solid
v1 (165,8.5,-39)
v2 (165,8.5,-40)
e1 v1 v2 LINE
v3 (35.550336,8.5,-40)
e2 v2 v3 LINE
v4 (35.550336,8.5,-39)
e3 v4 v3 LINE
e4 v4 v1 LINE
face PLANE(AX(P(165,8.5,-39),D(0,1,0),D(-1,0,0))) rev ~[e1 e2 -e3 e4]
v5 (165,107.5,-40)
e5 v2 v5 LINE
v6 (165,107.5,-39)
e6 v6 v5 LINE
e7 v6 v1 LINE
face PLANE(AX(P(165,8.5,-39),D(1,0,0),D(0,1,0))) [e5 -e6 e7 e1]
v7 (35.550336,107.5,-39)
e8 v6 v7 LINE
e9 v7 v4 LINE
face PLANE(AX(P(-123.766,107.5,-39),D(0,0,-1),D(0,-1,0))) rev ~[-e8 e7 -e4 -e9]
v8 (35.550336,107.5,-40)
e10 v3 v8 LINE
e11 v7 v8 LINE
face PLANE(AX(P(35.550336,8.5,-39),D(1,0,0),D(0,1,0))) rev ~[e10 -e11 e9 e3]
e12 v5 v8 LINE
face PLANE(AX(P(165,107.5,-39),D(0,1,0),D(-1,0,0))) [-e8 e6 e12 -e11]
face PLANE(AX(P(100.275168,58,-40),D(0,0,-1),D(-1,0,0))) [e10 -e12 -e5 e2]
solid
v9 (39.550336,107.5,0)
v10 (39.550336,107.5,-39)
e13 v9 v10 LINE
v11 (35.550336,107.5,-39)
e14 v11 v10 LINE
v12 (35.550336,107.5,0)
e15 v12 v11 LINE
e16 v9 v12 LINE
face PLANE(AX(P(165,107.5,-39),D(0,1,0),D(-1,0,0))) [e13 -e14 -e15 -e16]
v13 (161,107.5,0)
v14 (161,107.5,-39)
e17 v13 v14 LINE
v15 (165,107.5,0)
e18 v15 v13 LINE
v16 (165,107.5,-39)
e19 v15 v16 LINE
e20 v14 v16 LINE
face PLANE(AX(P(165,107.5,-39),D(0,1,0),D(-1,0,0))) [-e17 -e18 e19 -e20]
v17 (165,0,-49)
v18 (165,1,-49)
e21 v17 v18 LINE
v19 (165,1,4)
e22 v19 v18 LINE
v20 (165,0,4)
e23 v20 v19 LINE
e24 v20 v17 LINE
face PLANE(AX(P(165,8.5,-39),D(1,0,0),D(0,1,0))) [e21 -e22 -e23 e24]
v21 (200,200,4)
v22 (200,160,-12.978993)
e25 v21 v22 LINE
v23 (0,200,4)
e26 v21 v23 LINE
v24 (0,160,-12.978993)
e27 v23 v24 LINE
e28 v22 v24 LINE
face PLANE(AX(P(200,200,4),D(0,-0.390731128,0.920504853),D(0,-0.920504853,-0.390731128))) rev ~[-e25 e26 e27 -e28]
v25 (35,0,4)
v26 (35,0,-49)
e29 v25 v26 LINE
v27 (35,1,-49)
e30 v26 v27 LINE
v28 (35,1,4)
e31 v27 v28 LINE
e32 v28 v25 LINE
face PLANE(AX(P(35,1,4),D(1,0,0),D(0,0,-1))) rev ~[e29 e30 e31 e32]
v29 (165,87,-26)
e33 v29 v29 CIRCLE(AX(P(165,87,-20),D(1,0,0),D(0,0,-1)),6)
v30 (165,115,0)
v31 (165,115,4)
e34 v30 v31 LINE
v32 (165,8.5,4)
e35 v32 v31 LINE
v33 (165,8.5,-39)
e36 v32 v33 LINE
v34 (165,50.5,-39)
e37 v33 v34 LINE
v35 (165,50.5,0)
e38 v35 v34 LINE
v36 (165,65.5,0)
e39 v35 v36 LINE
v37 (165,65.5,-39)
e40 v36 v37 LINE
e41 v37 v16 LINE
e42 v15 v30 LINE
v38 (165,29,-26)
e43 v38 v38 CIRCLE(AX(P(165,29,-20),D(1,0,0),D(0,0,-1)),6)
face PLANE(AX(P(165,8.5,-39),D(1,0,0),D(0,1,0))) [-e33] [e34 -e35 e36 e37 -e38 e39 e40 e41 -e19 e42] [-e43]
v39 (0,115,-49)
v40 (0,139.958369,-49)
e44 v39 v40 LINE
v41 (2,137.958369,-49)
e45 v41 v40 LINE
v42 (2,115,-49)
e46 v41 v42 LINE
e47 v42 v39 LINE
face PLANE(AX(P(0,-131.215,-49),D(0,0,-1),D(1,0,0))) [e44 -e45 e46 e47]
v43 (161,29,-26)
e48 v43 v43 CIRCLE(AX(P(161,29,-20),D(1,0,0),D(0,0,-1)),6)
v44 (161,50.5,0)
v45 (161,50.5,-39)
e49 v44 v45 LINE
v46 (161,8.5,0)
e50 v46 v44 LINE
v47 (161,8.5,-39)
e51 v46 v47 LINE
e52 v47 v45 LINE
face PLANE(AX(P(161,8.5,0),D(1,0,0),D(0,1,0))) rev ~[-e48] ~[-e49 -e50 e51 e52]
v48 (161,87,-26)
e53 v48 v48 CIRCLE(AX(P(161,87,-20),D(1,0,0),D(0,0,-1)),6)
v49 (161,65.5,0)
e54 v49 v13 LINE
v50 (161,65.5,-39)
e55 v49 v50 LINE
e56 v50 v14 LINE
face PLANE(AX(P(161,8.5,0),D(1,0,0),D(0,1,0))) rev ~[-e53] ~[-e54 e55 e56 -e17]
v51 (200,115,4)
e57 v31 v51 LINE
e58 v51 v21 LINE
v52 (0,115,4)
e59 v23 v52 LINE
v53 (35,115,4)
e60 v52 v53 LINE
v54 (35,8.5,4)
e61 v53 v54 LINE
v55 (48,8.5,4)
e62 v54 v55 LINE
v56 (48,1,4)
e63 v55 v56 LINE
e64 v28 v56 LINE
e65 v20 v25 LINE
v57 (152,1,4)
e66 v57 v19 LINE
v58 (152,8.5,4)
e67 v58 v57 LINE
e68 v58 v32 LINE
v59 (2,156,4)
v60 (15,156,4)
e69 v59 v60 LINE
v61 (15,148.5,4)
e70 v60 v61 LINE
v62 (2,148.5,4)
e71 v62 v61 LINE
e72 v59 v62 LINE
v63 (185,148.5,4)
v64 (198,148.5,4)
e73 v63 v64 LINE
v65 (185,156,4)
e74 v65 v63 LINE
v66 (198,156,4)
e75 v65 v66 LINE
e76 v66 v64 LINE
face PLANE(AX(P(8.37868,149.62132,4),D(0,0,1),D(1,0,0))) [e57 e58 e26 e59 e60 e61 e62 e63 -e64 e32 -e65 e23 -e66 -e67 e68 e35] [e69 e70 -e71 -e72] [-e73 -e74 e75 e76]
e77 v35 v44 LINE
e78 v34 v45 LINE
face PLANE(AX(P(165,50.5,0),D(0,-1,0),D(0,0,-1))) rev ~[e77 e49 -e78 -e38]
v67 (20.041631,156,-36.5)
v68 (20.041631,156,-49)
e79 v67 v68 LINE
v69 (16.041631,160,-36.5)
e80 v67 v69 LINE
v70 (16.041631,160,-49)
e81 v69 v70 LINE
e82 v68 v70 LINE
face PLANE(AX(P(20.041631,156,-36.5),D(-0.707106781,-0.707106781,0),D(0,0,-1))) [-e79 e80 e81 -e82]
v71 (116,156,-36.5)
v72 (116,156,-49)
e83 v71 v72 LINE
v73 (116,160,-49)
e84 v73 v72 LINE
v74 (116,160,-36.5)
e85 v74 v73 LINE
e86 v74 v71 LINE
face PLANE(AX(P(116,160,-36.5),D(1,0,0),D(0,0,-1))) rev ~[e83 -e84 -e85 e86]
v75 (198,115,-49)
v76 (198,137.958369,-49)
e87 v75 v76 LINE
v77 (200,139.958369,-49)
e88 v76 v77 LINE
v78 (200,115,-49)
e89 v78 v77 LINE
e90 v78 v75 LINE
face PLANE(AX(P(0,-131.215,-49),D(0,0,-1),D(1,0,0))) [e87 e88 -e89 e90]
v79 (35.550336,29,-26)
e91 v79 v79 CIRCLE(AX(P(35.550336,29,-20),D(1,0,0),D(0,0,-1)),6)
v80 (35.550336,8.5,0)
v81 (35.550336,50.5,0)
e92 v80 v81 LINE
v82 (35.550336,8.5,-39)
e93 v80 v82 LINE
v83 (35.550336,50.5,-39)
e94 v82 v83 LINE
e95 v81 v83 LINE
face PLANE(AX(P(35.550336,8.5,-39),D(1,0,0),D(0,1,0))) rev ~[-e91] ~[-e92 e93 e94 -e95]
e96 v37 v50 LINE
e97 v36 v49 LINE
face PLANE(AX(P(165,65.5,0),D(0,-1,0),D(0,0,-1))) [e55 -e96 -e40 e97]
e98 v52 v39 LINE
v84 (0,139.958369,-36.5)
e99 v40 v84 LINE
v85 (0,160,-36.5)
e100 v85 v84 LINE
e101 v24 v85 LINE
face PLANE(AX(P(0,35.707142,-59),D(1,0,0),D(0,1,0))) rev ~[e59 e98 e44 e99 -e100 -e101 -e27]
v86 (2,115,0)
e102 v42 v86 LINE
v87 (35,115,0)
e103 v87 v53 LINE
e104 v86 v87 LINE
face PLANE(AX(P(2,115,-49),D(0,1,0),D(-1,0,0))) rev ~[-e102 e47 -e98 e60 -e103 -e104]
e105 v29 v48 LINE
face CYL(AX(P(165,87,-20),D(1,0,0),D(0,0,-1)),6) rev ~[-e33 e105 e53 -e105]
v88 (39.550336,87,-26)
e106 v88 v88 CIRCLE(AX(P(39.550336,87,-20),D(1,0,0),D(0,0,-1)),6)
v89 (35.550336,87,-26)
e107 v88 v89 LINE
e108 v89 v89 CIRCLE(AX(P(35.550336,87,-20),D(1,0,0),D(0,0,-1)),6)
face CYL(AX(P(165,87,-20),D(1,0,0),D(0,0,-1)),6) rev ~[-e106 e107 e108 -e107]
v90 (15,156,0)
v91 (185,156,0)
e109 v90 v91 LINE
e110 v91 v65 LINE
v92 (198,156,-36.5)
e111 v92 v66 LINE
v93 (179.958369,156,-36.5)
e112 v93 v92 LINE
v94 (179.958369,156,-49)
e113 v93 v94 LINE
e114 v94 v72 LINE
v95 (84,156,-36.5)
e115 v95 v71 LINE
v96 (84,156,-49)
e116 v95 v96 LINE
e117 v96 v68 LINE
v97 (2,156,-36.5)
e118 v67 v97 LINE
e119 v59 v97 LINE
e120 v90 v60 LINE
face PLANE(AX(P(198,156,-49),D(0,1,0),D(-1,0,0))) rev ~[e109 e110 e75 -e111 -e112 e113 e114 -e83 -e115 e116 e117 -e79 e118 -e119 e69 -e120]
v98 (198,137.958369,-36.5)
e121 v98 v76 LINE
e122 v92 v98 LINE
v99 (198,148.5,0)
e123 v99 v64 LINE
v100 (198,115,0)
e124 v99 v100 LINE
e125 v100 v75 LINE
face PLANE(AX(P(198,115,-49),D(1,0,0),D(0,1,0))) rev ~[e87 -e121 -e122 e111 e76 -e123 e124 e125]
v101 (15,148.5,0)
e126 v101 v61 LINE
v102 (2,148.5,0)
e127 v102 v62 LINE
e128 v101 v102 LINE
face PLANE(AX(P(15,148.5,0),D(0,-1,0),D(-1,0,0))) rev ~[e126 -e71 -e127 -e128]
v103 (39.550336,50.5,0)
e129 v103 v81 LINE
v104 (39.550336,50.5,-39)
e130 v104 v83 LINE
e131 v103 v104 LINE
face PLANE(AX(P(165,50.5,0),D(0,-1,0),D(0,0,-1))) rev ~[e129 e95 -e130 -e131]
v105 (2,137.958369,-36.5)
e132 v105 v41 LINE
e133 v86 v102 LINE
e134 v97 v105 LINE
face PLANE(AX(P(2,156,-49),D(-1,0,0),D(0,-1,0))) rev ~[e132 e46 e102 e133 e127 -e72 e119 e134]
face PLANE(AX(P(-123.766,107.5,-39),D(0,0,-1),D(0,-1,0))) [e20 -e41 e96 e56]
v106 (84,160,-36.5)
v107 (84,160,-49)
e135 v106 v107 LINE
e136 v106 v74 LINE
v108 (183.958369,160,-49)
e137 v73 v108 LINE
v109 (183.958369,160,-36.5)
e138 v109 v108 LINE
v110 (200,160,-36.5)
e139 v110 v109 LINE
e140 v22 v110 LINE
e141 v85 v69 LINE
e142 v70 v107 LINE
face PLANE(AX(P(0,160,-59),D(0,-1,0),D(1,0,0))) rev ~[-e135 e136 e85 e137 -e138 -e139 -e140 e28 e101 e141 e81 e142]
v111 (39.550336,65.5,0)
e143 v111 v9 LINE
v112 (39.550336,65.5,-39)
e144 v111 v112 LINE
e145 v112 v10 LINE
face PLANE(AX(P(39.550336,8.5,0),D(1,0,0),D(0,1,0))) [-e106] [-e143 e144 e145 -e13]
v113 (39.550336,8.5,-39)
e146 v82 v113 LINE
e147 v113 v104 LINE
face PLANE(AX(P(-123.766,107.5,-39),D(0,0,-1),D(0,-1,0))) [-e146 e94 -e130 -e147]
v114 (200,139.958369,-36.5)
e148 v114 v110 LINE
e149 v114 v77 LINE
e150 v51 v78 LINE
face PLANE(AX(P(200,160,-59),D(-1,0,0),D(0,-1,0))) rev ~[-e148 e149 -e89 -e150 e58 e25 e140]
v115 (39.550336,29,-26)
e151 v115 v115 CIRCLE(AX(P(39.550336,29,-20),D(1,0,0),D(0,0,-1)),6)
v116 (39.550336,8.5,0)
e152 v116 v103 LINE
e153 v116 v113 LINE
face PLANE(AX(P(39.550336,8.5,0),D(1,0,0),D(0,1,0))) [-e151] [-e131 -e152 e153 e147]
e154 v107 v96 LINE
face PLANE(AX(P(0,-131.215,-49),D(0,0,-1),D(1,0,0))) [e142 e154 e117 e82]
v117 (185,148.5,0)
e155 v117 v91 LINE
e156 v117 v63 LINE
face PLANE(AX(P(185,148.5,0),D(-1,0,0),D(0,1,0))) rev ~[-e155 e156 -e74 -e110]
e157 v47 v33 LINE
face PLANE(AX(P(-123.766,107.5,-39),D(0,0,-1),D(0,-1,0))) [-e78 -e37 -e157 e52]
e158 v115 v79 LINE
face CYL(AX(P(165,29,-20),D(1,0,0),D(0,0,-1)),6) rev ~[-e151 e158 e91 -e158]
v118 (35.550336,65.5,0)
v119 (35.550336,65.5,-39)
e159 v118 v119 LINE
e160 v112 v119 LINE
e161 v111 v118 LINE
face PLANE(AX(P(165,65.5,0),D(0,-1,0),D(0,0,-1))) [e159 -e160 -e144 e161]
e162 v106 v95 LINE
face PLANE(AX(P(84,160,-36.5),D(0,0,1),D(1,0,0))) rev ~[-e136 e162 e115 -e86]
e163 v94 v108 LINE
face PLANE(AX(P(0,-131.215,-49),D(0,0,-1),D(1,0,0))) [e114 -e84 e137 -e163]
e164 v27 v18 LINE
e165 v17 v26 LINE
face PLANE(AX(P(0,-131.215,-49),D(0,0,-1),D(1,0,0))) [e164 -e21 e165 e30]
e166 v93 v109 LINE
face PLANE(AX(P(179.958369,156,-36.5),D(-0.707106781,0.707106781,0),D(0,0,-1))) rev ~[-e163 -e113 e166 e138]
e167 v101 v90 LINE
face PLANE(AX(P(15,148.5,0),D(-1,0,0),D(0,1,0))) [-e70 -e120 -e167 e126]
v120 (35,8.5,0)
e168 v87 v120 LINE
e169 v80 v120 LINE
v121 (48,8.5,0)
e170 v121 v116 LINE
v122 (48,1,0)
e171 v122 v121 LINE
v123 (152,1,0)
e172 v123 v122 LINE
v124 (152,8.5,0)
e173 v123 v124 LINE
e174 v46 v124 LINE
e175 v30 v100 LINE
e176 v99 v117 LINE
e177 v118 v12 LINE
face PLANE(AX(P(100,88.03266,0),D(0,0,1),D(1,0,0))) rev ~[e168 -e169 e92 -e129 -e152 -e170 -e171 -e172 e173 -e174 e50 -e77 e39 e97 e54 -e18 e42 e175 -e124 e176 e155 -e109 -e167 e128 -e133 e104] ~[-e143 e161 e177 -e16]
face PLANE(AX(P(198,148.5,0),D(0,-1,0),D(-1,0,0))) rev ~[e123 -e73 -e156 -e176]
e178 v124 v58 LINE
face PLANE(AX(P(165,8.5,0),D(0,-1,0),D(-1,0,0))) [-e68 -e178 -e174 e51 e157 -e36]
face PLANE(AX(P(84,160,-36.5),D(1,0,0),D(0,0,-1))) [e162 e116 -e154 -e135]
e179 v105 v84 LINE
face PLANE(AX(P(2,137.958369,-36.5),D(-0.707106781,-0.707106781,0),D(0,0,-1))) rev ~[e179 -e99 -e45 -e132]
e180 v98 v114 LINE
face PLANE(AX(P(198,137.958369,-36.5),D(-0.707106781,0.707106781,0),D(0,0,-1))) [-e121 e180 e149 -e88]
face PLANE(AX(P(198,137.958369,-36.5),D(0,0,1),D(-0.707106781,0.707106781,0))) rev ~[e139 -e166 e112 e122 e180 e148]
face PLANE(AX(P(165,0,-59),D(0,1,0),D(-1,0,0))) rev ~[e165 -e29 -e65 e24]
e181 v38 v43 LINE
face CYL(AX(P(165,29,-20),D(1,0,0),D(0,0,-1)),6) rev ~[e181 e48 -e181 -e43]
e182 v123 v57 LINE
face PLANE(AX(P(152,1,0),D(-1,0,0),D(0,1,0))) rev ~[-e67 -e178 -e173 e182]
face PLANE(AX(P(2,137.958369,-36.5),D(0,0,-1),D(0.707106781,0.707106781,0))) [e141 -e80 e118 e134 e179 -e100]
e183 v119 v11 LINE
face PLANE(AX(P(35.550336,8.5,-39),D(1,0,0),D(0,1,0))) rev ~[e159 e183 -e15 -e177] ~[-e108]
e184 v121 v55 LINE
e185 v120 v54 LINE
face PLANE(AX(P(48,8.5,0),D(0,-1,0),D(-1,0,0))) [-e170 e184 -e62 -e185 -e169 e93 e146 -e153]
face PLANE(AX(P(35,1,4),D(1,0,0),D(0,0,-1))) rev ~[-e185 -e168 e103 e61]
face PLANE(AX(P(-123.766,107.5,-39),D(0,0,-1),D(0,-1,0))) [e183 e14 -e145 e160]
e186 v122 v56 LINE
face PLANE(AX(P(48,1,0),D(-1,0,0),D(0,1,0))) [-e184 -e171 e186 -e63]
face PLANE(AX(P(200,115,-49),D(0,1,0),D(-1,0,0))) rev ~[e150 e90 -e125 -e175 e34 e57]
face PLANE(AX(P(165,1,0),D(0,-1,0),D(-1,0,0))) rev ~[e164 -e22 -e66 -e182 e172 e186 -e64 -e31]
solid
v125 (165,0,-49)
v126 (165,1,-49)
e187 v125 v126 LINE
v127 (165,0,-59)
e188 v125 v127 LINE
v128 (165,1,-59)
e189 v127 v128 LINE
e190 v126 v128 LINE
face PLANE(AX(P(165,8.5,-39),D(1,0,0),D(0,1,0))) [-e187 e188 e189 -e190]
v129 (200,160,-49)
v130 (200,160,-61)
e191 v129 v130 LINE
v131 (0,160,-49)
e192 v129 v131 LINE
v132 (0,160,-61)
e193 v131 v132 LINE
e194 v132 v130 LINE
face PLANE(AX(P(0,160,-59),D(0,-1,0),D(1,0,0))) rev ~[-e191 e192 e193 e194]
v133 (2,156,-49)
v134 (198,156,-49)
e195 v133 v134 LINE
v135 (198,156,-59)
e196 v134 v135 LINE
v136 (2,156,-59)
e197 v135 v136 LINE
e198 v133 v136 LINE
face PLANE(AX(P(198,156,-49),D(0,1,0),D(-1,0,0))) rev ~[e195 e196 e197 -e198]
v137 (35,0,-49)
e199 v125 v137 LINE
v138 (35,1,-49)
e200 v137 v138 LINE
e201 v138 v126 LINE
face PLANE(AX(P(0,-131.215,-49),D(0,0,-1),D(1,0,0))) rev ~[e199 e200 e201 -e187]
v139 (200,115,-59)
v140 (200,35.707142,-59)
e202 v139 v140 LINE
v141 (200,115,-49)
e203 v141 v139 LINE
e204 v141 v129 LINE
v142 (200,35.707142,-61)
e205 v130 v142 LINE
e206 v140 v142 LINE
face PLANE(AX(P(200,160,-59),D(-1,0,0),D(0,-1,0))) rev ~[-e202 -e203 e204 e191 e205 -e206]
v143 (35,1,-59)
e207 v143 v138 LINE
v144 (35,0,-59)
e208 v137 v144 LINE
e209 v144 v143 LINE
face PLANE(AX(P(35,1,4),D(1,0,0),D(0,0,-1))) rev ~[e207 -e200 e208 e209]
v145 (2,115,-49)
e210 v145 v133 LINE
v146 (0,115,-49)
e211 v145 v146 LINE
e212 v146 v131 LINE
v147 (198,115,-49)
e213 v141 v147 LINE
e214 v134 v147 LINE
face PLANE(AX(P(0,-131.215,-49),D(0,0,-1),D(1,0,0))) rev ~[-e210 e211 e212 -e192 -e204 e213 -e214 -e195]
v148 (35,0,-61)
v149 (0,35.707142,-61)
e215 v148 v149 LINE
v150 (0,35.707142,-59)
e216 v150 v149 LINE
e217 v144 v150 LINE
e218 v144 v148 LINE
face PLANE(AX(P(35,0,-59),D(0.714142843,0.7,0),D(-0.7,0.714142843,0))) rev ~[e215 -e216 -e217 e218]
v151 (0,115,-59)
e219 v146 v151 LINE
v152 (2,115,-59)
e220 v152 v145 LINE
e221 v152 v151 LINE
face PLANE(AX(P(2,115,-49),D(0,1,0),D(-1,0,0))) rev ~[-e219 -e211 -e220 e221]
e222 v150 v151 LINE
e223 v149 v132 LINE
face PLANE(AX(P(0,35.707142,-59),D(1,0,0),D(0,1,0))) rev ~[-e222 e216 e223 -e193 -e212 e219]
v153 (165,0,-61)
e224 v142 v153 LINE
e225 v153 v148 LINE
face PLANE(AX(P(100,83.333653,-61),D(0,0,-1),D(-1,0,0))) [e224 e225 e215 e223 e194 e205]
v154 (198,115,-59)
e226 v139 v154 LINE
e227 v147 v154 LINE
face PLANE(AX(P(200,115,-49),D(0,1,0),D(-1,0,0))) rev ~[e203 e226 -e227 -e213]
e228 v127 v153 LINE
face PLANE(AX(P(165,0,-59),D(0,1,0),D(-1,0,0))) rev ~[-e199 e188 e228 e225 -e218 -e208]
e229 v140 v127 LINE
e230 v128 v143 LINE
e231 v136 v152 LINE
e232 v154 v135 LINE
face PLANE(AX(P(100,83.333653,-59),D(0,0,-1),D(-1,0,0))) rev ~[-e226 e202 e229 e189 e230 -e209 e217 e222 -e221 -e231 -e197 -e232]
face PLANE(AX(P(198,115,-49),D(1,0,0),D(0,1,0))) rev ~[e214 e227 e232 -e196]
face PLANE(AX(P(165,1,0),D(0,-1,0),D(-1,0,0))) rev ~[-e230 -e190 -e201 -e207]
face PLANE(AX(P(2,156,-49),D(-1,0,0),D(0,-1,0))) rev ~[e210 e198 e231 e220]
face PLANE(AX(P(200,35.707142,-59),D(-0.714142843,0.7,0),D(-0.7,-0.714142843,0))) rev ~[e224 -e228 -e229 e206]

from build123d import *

# Parameters (mm, degrees)
BOSS_EXTRUDE1_DEPTH    = 4
BOSS_EXTRUDE2_DEPTH    = 53
BOSS_EXTRUDE4_DEPTH    = 200
SKETCH5_W              = 25.514718625
SKETCH5_H              = 12.5
CUT_EXTRUDE1_DEPTH     = 20
SKETCH6_W              = 12.5
SKETCH6_H              = 25.514718626
CUT_EXTRUDE2_DEPTH     = 20
BOSS_EXTRUDE5_DEPTH    = 4
SKETCH9_W              = 4
SKETCH9_H              = 99
BOSS_EXTRUDE6_DEPTH    = 39
SKETCH10_W             = 39
SKETCH10_H             = 15
CUT_EXTRUDE5_DEPTH     = 137
SKETCH12_W             = 35
SKETCH12_H             = 53
CUT_EXTRUDE6_DEPTH     = 8
SKETCH13_R             = 6
CUT_EXTRUDE7_DEPTH     = 135
SKETCH15_W             = 129.449663631
SKETCH15_H             = 99
BOSS_EXTRUDE7_DEPTH    = 1
SPLIT1_SURFACE_1_BACK  = 288.766
SPLIT1_SURFACE_1_DEPTH = 577.532
SPLIT1_SURFACE_2_BACK  = 288.766
SPLIT1_SURFACE_2_DEPTH = 577.532
SKETCH17_W             = 13
SKETCH17_H             = 7.5
CUT_EXTRUDE8_DEPTH     = 10
SKETCH21_W             = 130
SKETCH21_H             = 1
BOSS_EXTRUDE10_DEPTH   = 10
SKETCH23_W             = 32
SKETCH23_H             = 12.5
CUT_EXTRUDE9_DEPTH     = 10
BOSS_EXTRUDE14_DEPTH   = 2
SPLIT2_SURFACE_3_BACK  = 291.215
SPLIT2_SURFACE_3_DEPTH = 582.43
SPLIT2_SURFACE_4_BACK  = 291.215
SPLIT2_SURFACE_4_DEPTH = 582.43


with BuildPart() as part:
    # Sketch1 → Boss-Extrude1 (new body)
    with BuildSketch(Plane.XY):
        Polygon((175.95836944, 160), (24.04163056, 160), (0, 135.95836944), (0, 115), (35, 115), (35, 60), (35, 55), (35, 0), (165, 0), (165, 55), (165, 60), (165, 115), (200, 115), (200, 135.95836944), align=None)
    extrude(amount=BOSS_EXTRUDE1_DEPTH)

    # Sketch3 → Boss-Extrude2 (add)
    with BuildSketch(Plane.XY.offset(4)):
        Polygon((0, 0), (200, 0), (200, 1), (199, 1), (1, 1), (0, 1), align=None)
        Polygon((0, 160), (200, 160), (200, 115), (198, 115), (198, 156), (2, 156), (2, 115), (0, 115), align=None)
    extrude(amount=-BOSS_EXTRUDE2_DEPTH)

    # Sketch4 → Boss-Extrude4 (add)
    with BuildSketch(Plane(origin=(200, 0, 0), x_dir=(0, 0, -1), z_dir=(1, 0, 0))):
        Polygon((-4, 160), (-4, 200), (12.978992648, 160), align=None)
    extrude(amount=-BOSS_EXTRUDE4_DEPTH)

    # Sketch5 → Cut-Extrude1 (cut)
    with BuildSketch(Plane(origin=(-67.97918472, 67.97918472, 0), x_dir=(0.7071067811865505, 0.7071067811865447, 0), z_dir=(-0.7071067811865447, 0.7071067811865505, 0))):
        with Locations((111.722871428, 42.75)):
            Rectangle(SKETCH5_W, SKETCH5_H)
    extrude(amount=CUT_EXTRUDE1_DEPTH, mode=Mode.SUBTRACT)

    # Sketch6 → Cut-Extrude2 (cut)
    with BuildSketch(Plane(origin=(167.97918472, 167.97918472, 0), x_dir=(0, 0, -1), z_dir=(0.7071067811865493, 0.7071067811865458, 0))):
        with Locations((42.75, -29.69848481)):
            Rectangle(SKETCH6_W, SKETCH6_H)
    extrude(amount=CUT_EXTRUDE2_DEPTH, mode=Mode.SUBTRACT)

    # Sketch8 → Boss-Extrude5 (add)
    with BuildSketch(Plane.XY.offset(4)):
        Polygon((20.04163056, 156), (2, 156), (2, 137.95836944), align=None)
        Polygon((179.95836944, 156), (198, 156), (198, 137.95836944), align=None)
    extrude(amount=-BOSS_EXTRUDE5_DEPTH)

    # Sketch9 → Boss-Extrude6 (add)
    with BuildSketch(Plane(origin=(0, 0, 0), x_dir=(-1, 0, 0), z_dir=(0, 0, -1))):
        with Locations((-37.550336369, 58)):
            Rectangle(SKETCH9_W, SKETCH9_H)
        with Locations((-163, 58)):
            Rectangle(SKETCH9_W, SKETCH9_H)
    extrude(amount=BOSS_EXTRUDE6_DEPTH)

    # Sketch10 → Cut-Extrude5 (cut)
    with BuildSketch(Plane(origin=(165, 0, 0), x_dir=(0, 0, -1), z_dir=(1, 0, 0))):
        with Locations((19.5, 58)):
            Rectangle(SKETCH10_W, SKETCH10_H)
    extrude(amount=-CUT_EXTRUDE5_DEPTH, mode=Mode.SUBTRACT)

    # Sketch12 → Cut-Extrude6 (cut)
    with BuildSketch(Plane(origin=(0, 1, 0), x_dir=(1, 0, 0), z_dir=(0, 1, 0))):
        with Locations((17.5, 22.5)):
            Rectangle(SKETCH12_W, SKETCH12_H)
        with Locations((182.5, 22.5)):
            Rectangle(SKETCH12_W, SKETCH12_H)
    extrude(amount=-CUT_EXTRUDE6_DEPTH, mode=Mode.SUBTRACT)

    # Sketch13 → Cut-Extrude7 (cut)
    with BuildSketch(Plane(origin=(165, 0, 0), x_dir=(0, 0, -1), z_dir=(1, 0, 0))):
        with Locations((20, 87)):
            Circle(SKETCH13_R)
        with Locations((20, 29)):
            Circle(SKETCH13_R)
    extrude(amount=-CUT_EXTRUDE7_DEPTH, mode=Mode.SUBTRACT)

    # Sketch15 → Boss-Extrude7 (add)
    with BuildSketch(Plane(origin=(0, 0, -39), x_dir=(-1, 0, 0), z_dir=(0, 0, -1))):
        with Locations((-100.275168185, 58)):
            Rectangle(SKETCH15_W, SKETCH15_H)
    extrude(amount=BOSS_EXTRUDE7_DEPTH)


with BuildPart() as body_2:
    # Split1: the piece behind the surface
    add(part.part)
    # Split1 surface: a surface, the sketch's curves swept straight by 577.532 mm
    with BuildLine(Plane(origin=(165, 0, 0), x_dir=(0, 0, -1), z_dir=(1, 0, 0)).offset(-SPLIT1_SURFACE_1_BACK), mode=Mode.PRIVATE) as split1_surface_1_path:
        Line((39, 107.5), (39, 8.5))
    split1_surface_1 = Shell.extrude(split1_surface_1_path.wire(), (1 * SPLIT1_SURFACE_1_DEPTH, 0 * SPLIT1_SURFACE_1_DEPTH, 0 * SPLIT1_SURFACE_1_DEPTH))
    split(bisect_by=split1_surface_1, keep=Keep.BOTTOM)

    # Sketch17 → Cut-Extrude8 (cut)
    with BuildSketch(Plane(origin=(0, 0, 0), x_dir=(-1, 0, 0), z_dir=(0, 0, -1))):
        with Locations((-191.5, 152.25)):
            Rectangle(SKETCH17_W, SKETCH17_H)
        with Locations((-8.5, 152.25)):
            Rectangle(SKETCH17_W, SKETCH17_H)
        with Locations((-158.5, 4.75)):
            Rectangle(SKETCH17_W, SKETCH17_H)
        with Locations((-41.5, 4.75)):
            Rectangle(SKETCH17_W, SKETCH17_H)
    extrude(amount=-CUT_EXTRUDE8_DEPTH, mode=Mode.SUBTRACT)

    # Sketch21 → Boss-Extrude10 (add)
    with BuildSketch(Plane(origin=(0, 0, -49), x_dir=(-1, 0, 0), z_dir=(0, 0, -1))):
        Polygon((-2, 115), (0, 115), (0, 139.95836944), (-2, 137.95836944), align=None)
        Polygon((-2, 137.95836944), (0, 139.95836944), (0, 160), (-200, 160), (-200, 115), (-198, 115), (-198, 156), (-2, 156), align=None)
        with Locations((-100, 0.5)):
            Rectangle(SKETCH21_W, SKETCH21_H)
    extrude(amount=BOSS_EXTRUDE10_DEPTH)

    # Sketch23 → Cut-Extrude9 (cut)
    with BuildSketch(Plane(origin=(0, 160, 0), x_dir=(1, 0, 0), z_dir=(0, 1, 0))):
        with Locations((100, 42.75)):
            Rectangle(SKETCH23_W, SKETCH23_H)
    extrude(amount=-CUT_EXTRUDE9_DEPTH, mode=Mode.SUBTRACT)

    # Sketch22 → Boss-Extrude14 (add)
    with BuildSketch(Plane(origin=(0, 0, -59), x_dir=(-1, 0, 0), z_dir=(0, 0, -1))):
        Polygon((0, 35.707142143), (0, 115), (-2, 115), (-2, 156), (-198, 156), (-198, 115), (-200, 115), (-200, 35.707142143), (-165, 0), (-35, 0), align=None)
        Polygon((-2, 156), (-2, 115), (0, 115), (0, 160), (-200, 160), (-200, 115), (-198, 115), (-198, 156), align=None)
    extrude(amount=BOSS_EXTRUDE14_DEPTH)


with BuildPart() as part_1:
    add(part.part)

    # Split1: split by a surface, the side it looks to stays
    # Split1 surface: a surface, the sketch's curves swept straight by 577.532 mm
    with BuildLine(Plane(origin=(165, 0, 0), x_dir=(0, 0, -1), z_dir=(1, 0, 0)).offset(-SPLIT1_SURFACE_2_BACK), mode=Mode.PRIVATE) as split1_surface_2_path:
        Line((39, 107.5), (39, 8.5))
    split1_surface_2 = Shell.extrude(split1_surface_2_path.wire(), (1 * SPLIT1_SURFACE_2_DEPTH, 0 * SPLIT1_SURFACE_2_DEPTH, 0 * SPLIT1_SURFACE_2_DEPTH))
    split(bisect_by=split1_surface_2, keep=Keep.TOP)


with BuildPart() as body_3:
    # Split2: the piece behind the surface
    add(body_2.part)
    # Split2 surface: a surface, the sketch's curves swept straight by 582.43 mm
    with BuildLine(Plane(origin=(0, 160, 0), x_dir=(1, 0, 0), z_dir=(0, 1, 0)).offset(-SPLIT2_SURFACE_3_BACK), mode=Mode.PRIVATE) as split2_surface_3_path:
        Line((0, 49), (200, 49))
    split2_surface_3 = Shell.extrude(split2_surface_3_path.wire(), (0 * SPLIT2_SURFACE_3_DEPTH, 1 * SPLIT2_SURFACE_3_DEPTH, 0 * SPLIT2_SURFACE_3_DEPTH))
    split(bisect_by=split2_surface_3, keep=Keep.BOTTOM)


with BuildPart() as body_2_1:
    add(body_2.part)

    # Split2: split by a surface, the side it looks to stays
    # Split2 surface: a surface, the sketch's curves swept straight by 582.43 mm
    with BuildLine(Plane(origin=(0, 160, 0), x_dir=(1, 0, 0), z_dir=(0, 1, 0)).offset(-SPLIT2_SURFACE_4_BACK), mode=Mode.PRIVATE) as split2_surface_4_path:
        Line((0, 49), (200, 49))
    split2_surface_4 = Shell.extrude(split2_surface_4_path.wire(), (0 * SPLIT2_SURFACE_4_DEPTH, 1 * SPLIT2_SURFACE_4_DEPTH, 0 * SPLIT2_SURFACE_4_DEPTH))
    split(bisect_by=split2_surface_4, keep=Keep.TOP)


solid = Compound([part_1.part, body_3.part, body_2_1.part])
